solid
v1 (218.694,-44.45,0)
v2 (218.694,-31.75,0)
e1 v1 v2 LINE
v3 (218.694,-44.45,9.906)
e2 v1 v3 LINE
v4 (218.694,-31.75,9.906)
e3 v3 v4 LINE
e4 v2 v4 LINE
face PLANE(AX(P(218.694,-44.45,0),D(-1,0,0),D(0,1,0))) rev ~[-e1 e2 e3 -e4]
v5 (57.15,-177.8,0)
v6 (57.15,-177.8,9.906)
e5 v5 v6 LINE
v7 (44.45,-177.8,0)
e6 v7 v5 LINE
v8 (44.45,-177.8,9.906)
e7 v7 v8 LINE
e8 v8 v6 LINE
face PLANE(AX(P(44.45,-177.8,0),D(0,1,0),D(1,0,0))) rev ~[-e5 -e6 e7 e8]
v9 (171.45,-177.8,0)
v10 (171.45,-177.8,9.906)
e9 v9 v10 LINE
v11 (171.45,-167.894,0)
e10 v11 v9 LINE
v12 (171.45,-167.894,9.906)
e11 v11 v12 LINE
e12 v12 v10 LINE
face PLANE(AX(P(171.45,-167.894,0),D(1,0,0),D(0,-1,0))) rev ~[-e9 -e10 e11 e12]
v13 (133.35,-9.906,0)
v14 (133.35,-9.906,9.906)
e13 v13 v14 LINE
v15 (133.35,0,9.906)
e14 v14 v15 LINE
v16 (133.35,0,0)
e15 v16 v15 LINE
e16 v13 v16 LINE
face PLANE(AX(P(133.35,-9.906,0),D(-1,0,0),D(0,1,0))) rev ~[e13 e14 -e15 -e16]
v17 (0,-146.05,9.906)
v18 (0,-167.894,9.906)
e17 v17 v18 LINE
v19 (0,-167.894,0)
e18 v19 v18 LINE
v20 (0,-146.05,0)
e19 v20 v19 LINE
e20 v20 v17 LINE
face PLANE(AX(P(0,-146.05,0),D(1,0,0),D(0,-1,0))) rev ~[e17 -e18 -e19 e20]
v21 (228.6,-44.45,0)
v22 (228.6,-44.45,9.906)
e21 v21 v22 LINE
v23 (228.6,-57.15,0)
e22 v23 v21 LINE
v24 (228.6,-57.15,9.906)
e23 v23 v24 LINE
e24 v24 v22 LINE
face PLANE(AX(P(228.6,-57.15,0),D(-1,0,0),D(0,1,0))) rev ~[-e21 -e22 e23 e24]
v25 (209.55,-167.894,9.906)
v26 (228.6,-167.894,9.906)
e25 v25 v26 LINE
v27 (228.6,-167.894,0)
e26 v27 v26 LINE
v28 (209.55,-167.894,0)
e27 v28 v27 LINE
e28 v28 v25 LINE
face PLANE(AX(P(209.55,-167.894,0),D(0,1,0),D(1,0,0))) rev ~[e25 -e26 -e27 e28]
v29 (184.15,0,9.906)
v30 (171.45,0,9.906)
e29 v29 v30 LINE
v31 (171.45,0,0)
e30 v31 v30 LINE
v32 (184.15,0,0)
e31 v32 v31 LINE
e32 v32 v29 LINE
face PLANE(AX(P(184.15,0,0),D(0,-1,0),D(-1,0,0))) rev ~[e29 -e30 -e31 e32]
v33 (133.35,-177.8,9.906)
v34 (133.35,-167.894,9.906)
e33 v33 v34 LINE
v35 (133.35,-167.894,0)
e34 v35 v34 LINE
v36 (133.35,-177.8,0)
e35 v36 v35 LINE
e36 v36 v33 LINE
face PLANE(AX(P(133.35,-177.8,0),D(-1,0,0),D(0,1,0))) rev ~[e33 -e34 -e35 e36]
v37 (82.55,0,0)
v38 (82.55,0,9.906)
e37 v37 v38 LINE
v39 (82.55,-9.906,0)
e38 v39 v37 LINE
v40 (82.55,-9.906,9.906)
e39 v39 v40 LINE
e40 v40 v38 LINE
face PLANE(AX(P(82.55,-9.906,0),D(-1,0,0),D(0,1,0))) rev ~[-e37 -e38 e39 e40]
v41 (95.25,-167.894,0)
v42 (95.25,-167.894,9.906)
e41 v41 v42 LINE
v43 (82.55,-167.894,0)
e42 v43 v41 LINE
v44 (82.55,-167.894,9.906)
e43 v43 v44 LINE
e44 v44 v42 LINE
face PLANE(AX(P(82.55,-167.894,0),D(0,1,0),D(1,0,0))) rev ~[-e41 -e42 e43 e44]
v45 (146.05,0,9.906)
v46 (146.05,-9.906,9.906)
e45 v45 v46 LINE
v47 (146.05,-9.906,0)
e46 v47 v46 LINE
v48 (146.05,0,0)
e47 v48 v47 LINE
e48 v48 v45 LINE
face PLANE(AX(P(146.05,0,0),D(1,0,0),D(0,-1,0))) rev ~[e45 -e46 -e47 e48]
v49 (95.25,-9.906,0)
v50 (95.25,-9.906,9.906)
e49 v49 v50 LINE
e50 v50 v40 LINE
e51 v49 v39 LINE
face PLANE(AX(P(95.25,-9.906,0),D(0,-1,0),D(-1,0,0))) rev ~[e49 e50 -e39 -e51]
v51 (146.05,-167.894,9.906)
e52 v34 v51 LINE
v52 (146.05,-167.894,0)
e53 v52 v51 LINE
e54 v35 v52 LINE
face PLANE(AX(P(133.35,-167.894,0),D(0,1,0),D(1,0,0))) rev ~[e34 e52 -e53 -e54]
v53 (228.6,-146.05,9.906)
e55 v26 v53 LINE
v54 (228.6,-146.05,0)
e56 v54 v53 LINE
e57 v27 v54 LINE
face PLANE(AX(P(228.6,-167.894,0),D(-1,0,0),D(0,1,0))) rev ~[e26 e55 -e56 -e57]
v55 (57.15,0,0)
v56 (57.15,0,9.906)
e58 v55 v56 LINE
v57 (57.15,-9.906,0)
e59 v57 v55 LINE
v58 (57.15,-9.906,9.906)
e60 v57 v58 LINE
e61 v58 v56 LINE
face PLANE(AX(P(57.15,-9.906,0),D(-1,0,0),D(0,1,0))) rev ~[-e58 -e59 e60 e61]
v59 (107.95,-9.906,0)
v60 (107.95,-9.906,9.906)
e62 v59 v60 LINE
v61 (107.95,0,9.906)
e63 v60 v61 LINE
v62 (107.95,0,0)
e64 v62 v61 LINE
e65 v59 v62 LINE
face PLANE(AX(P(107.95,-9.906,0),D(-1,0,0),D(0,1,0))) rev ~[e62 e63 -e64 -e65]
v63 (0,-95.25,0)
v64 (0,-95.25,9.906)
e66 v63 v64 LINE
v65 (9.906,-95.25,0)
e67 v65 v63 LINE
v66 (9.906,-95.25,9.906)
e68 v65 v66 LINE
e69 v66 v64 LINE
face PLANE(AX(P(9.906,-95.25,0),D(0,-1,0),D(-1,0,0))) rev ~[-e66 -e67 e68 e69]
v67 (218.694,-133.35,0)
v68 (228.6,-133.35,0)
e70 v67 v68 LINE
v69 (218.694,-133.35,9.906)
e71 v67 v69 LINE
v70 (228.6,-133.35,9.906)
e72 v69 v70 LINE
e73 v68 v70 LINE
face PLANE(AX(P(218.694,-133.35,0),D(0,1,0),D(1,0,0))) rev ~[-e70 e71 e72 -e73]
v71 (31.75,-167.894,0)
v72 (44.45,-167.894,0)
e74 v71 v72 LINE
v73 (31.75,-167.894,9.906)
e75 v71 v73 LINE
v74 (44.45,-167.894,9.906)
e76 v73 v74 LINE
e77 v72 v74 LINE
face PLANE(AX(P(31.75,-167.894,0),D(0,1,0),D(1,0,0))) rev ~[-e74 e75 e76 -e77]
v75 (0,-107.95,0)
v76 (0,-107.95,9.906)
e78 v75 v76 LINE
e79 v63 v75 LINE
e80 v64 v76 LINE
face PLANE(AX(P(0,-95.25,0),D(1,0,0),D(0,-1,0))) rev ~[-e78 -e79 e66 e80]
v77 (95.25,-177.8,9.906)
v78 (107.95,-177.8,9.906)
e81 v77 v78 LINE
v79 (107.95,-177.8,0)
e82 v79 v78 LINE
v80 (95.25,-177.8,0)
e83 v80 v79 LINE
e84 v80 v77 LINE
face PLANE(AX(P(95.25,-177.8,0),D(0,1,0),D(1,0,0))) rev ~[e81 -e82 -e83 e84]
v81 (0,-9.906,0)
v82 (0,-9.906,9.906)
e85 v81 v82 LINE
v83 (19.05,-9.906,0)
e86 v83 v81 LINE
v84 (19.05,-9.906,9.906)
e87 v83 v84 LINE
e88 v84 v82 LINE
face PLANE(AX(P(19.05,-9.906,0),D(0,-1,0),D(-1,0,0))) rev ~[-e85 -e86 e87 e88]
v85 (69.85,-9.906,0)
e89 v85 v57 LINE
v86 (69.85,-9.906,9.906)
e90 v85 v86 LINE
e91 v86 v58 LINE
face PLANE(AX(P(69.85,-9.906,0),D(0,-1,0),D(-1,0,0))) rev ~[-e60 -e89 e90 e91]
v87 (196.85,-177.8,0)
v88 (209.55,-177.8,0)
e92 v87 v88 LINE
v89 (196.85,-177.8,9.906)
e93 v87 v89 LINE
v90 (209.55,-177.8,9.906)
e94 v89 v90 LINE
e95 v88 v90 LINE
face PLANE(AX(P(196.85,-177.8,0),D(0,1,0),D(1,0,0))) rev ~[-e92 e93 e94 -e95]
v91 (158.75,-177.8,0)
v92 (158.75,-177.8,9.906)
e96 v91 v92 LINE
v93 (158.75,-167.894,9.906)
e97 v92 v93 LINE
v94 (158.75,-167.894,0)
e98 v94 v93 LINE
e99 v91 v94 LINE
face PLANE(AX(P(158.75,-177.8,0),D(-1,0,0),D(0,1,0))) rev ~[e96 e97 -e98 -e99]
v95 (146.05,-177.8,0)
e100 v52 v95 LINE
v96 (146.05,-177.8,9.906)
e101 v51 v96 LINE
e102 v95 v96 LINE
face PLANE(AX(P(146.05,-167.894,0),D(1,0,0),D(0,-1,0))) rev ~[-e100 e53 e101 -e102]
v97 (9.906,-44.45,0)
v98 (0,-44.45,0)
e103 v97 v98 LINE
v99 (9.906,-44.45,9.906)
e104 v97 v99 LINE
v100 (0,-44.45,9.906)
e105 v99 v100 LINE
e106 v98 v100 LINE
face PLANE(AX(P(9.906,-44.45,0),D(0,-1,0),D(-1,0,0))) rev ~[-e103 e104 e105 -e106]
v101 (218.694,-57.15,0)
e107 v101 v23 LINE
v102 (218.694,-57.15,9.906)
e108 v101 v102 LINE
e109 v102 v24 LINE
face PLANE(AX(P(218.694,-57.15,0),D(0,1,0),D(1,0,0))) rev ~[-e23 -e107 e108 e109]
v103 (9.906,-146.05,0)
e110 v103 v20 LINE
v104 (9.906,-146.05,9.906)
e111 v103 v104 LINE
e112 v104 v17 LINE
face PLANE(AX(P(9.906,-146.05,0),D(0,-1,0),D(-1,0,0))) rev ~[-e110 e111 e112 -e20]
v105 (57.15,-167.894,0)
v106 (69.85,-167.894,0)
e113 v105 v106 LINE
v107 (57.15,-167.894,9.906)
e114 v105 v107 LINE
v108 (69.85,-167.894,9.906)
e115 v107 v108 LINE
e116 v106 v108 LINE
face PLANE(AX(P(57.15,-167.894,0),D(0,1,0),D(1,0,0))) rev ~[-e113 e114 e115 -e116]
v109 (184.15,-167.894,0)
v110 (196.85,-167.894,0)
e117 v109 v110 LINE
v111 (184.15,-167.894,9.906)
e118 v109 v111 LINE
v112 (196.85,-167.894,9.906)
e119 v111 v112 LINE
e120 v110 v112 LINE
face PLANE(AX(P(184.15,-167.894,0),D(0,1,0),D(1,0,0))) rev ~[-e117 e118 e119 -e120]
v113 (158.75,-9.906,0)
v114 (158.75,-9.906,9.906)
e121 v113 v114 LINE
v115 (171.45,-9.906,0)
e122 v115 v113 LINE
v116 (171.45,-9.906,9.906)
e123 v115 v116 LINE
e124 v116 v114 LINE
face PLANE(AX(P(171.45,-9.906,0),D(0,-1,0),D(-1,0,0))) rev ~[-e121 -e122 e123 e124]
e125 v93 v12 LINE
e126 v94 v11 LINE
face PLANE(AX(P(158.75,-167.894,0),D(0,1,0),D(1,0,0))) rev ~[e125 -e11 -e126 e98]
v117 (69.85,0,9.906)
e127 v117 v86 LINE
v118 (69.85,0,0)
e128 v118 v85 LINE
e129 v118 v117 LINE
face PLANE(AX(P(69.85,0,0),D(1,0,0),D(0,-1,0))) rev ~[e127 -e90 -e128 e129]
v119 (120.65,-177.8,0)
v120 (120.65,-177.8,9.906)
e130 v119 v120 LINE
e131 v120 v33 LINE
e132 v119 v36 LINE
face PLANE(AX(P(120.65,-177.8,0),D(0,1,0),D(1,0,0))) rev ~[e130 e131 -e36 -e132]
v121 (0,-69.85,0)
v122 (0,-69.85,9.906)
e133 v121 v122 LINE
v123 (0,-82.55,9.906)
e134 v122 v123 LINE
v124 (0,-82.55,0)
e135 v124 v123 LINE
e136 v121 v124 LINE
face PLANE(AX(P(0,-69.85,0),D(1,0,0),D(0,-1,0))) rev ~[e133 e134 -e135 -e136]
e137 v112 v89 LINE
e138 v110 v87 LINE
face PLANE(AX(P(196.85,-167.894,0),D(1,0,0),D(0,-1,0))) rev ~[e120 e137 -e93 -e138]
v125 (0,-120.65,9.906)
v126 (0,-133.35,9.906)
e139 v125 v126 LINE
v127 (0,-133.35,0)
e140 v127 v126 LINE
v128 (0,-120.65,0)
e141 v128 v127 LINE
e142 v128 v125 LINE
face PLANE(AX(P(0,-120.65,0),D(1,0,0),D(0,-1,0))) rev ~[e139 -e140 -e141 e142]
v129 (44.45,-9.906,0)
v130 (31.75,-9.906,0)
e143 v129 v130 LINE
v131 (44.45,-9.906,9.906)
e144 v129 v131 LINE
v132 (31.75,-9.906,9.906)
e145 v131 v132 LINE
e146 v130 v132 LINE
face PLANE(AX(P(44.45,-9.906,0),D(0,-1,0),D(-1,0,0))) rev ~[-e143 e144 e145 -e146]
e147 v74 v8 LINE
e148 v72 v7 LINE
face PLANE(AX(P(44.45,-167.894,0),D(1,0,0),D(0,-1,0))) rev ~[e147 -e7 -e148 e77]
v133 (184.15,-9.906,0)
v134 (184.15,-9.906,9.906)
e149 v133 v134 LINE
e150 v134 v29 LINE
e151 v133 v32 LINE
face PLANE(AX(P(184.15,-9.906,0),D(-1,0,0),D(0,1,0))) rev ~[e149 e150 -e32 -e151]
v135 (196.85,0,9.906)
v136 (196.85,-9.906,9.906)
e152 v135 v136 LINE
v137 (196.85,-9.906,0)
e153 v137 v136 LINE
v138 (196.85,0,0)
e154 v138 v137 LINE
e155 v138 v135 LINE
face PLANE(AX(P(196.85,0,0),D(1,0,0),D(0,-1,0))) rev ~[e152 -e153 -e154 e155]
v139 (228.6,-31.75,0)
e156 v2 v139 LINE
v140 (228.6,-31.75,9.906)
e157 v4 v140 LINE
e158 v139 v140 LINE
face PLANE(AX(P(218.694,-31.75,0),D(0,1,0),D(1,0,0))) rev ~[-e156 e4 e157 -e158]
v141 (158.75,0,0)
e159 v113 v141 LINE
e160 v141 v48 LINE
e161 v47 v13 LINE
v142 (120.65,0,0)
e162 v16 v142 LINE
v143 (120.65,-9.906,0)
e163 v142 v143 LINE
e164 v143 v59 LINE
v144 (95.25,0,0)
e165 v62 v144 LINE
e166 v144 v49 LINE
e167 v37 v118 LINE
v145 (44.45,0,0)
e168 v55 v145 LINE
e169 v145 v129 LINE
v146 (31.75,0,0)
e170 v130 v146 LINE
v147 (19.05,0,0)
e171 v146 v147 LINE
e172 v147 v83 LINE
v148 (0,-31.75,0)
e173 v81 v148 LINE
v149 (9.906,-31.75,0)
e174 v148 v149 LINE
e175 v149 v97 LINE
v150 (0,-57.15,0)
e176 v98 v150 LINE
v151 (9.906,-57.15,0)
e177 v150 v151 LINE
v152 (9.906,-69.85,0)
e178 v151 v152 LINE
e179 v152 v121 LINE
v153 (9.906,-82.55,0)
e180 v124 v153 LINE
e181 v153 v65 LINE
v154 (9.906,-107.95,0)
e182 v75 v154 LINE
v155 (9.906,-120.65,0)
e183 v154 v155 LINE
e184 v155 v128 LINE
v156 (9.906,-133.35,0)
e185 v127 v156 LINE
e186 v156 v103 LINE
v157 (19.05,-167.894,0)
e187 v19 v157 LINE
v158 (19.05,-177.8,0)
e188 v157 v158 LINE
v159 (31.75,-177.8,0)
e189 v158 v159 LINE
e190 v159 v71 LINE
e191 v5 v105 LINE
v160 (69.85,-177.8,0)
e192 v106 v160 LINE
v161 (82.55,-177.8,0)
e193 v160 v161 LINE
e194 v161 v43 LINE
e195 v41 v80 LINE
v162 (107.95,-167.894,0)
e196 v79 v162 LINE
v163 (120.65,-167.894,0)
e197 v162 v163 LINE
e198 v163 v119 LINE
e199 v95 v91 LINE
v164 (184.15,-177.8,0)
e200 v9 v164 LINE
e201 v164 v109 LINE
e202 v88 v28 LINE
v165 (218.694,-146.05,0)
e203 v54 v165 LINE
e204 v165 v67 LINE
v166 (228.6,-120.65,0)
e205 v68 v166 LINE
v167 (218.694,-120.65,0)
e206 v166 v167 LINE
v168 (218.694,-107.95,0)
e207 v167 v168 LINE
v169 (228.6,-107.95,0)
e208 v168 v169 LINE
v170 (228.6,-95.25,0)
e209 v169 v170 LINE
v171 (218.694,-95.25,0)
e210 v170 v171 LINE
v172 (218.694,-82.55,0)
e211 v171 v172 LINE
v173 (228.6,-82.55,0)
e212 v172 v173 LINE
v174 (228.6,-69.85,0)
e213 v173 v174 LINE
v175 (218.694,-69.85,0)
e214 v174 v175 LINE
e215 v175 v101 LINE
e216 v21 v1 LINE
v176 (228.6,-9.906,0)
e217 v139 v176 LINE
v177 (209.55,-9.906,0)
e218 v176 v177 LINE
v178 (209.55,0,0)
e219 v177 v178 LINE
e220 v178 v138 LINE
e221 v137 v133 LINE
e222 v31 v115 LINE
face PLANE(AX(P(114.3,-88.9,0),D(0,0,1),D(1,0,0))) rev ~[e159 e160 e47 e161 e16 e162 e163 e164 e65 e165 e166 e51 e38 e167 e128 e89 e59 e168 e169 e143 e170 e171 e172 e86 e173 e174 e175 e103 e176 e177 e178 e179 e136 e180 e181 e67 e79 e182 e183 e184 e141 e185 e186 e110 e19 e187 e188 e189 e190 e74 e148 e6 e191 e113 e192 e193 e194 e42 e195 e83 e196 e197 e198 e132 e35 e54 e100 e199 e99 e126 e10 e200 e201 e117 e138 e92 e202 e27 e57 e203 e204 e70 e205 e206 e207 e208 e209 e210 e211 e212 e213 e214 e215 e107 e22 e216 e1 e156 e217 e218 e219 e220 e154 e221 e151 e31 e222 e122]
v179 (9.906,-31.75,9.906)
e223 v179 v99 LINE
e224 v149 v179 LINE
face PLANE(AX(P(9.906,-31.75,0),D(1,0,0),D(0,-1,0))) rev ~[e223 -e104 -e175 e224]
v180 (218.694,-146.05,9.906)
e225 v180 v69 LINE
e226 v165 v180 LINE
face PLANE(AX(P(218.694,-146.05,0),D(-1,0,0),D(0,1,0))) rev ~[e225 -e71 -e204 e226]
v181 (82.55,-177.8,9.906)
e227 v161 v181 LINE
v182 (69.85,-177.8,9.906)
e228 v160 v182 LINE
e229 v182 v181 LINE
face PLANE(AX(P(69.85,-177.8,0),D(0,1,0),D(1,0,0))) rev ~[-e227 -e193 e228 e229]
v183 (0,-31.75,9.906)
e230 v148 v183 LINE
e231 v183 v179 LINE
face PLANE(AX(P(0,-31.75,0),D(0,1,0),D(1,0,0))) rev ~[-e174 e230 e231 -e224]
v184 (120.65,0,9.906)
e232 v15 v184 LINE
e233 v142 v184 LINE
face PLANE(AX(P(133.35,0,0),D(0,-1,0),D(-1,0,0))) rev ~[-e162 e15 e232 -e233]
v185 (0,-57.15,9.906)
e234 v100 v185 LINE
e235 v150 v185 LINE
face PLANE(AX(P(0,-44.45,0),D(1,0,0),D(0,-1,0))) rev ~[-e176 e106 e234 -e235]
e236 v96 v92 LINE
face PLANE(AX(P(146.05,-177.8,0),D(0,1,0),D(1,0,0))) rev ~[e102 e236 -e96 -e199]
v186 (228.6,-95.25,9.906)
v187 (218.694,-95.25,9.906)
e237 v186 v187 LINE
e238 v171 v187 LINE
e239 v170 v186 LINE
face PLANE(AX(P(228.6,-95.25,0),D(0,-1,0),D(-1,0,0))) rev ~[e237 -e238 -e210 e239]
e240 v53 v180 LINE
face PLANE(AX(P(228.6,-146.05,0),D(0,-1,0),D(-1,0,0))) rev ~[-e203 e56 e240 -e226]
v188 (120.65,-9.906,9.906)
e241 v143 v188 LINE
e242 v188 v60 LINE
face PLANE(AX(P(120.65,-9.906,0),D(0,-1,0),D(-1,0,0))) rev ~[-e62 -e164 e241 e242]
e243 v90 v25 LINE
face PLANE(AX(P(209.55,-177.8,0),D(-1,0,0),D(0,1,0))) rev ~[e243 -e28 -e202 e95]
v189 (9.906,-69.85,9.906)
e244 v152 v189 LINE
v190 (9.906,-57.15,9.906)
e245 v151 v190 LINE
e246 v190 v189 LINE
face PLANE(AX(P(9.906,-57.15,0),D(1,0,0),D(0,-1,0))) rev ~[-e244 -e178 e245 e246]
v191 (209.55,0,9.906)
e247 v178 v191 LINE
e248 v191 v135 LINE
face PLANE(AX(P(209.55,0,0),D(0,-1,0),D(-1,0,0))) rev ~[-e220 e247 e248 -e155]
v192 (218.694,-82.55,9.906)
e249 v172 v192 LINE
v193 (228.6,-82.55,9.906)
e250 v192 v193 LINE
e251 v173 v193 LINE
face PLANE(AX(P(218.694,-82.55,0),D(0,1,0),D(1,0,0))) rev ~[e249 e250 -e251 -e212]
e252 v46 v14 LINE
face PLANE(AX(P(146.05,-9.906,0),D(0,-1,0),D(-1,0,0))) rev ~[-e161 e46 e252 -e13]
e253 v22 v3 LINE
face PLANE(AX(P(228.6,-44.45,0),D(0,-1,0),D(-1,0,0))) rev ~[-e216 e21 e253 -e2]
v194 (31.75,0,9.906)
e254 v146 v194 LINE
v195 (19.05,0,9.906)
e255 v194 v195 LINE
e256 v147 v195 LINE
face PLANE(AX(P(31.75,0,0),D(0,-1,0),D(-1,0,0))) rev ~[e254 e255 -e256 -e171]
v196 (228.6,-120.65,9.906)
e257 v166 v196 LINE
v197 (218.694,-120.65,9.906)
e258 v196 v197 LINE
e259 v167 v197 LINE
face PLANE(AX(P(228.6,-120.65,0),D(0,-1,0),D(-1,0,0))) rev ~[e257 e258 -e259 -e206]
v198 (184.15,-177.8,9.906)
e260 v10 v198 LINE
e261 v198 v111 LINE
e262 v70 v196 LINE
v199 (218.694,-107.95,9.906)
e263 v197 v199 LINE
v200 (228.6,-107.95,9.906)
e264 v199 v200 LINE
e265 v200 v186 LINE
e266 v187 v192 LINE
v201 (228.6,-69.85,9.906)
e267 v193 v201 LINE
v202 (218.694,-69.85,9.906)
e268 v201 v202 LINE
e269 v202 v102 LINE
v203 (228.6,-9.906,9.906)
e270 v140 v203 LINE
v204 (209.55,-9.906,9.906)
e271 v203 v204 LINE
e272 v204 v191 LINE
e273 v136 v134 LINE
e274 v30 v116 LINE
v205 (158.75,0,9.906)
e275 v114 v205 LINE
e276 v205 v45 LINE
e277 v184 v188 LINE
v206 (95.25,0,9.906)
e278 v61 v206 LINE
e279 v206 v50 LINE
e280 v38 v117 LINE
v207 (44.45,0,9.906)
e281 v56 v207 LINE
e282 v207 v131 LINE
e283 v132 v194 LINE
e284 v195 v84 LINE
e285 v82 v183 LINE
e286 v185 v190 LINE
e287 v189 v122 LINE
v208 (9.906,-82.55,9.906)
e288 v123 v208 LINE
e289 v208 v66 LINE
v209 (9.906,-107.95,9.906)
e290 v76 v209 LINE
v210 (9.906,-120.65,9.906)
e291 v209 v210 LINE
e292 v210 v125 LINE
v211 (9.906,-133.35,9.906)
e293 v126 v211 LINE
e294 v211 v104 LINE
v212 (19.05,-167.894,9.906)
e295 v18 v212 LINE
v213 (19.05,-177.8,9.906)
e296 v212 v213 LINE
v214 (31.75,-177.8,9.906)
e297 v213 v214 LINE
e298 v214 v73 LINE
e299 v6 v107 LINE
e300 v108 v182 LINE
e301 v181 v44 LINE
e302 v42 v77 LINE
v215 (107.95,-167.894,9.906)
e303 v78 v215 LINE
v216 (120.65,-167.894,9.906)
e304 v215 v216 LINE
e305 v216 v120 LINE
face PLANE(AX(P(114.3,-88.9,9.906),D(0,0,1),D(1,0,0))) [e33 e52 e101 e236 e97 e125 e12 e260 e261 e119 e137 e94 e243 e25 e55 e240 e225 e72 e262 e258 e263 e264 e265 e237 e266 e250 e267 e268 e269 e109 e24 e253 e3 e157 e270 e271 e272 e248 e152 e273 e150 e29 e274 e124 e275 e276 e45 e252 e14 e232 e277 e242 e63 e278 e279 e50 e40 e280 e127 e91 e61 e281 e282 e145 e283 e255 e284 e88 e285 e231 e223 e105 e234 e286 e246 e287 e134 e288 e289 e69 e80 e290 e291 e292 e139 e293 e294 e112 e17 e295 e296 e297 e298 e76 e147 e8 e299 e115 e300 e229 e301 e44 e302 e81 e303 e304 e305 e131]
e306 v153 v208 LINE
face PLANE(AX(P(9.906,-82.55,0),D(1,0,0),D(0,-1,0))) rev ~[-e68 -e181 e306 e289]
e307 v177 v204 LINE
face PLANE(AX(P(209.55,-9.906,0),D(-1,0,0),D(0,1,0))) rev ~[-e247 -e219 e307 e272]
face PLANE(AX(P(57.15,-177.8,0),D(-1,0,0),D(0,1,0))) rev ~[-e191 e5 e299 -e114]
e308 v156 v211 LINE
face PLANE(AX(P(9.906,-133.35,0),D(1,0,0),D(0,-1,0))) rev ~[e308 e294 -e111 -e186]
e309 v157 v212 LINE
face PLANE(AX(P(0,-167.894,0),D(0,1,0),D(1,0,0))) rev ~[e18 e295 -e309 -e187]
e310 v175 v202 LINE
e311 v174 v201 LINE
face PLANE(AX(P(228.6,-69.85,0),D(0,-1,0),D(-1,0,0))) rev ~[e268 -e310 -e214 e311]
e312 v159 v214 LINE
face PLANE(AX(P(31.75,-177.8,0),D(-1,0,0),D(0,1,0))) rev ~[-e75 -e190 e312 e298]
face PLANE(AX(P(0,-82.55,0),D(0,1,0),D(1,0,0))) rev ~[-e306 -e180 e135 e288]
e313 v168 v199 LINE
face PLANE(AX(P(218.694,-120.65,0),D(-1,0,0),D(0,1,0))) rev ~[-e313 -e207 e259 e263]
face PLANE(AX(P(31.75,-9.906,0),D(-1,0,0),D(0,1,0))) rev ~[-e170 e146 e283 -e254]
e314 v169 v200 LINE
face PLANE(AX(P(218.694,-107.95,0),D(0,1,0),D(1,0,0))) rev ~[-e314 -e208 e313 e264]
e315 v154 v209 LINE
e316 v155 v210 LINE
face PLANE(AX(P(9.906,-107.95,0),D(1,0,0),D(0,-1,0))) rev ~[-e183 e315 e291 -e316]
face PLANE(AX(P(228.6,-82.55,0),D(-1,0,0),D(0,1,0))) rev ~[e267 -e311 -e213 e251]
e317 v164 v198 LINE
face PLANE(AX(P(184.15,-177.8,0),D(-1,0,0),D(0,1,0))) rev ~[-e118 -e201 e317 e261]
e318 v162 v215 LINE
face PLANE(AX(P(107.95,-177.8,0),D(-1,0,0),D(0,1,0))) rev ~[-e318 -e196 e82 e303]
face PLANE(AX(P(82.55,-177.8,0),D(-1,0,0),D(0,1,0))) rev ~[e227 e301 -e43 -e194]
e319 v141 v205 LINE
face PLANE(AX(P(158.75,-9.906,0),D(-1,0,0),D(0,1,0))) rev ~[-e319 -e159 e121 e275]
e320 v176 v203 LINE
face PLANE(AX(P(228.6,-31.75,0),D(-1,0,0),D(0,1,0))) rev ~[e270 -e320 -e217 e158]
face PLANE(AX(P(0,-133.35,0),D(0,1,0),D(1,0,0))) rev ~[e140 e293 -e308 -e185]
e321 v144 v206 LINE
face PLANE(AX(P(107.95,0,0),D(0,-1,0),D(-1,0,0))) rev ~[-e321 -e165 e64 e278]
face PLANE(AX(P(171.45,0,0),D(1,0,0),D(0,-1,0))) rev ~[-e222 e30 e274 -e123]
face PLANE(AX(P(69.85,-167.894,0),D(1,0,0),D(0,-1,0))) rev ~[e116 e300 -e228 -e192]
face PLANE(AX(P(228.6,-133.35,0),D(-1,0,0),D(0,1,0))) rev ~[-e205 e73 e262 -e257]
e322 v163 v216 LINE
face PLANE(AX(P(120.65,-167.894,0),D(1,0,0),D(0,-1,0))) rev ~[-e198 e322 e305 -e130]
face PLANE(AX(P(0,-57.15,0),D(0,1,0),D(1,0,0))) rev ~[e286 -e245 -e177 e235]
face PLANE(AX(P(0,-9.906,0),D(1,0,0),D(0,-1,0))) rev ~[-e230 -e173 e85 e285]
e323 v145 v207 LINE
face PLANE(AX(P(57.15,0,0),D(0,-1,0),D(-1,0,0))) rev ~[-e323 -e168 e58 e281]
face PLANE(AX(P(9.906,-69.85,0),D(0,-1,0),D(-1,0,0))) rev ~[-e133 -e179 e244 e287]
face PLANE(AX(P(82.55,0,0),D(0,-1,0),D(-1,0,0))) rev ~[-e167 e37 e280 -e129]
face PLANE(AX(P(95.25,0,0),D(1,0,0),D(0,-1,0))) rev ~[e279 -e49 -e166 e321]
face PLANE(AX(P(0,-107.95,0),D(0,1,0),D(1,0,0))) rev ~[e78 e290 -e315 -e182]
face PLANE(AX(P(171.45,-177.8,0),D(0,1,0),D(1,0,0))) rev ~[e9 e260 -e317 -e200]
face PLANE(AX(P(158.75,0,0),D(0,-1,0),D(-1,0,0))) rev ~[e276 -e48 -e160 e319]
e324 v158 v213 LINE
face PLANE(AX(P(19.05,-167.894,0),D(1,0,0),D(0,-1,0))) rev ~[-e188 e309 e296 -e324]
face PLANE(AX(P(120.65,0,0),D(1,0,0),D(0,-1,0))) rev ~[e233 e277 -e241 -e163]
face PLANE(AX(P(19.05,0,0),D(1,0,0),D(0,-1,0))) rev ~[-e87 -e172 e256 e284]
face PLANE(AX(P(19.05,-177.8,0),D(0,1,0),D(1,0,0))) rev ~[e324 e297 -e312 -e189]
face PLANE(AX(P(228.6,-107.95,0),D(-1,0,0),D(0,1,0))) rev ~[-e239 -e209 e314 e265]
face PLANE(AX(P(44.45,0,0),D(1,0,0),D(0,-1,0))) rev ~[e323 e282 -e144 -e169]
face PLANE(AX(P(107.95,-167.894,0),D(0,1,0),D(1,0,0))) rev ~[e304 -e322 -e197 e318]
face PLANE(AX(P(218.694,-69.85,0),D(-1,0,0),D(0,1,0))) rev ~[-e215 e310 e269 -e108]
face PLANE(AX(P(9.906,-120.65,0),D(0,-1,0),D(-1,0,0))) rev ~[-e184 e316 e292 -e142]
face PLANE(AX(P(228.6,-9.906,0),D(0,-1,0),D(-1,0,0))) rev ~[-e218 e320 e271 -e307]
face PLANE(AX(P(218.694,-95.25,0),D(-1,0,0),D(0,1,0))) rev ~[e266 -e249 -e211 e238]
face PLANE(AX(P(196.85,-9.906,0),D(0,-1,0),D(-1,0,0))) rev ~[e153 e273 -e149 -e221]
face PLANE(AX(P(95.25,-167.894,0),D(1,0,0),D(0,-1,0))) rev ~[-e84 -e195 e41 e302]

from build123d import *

# Parameters (mm, degrees)
F1_DEPTH = 9.906


with BuildPart() as f1:
    # F0 (on Top) → F1 (new body)
    with BuildSketch(Plane.XY):
        Polygon((19.05, 0), (19.05, -9.906), (0, -9.906), (0, -31.75), (9.906, -31.75), (9.906, -44.45), (0, -44.45), (0, -57.15), (9.906, -57.15), (9.906, -69.85), (0, -69.85), (0, -82.55), (9.906, -82.55), (9.906, -95.25), (0, -95.25), (0, -107.95), (9.906, -107.95), (9.906, -120.65), (0, -120.65), (0, -133.35), (9.906, -133.35), (9.906, -146.05), (0, -146.05), (0, -167.894), (19.05, -167.894), (19.05, -177.8), (31.75, -177.8), (31.75, -167.894), (44.45, -167.894), (44.45, -177.8), (57.15, -177.8), (57.15, -167.894), (69.85, -167.894), (69.85, -177.8), (82.55, -177.8), (82.55, -167.894), (95.25, -167.894), (95.25, -177.8), (107.95, -177.8), (107.95, -167.894), (120.65, -167.894), (120.65, -177.8), (133.35, -177.8), (133.35, -167.894), (146.05, -167.894), (146.05, -177.8), (158.75, -177.8), (158.75, -167.894), (171.45, -167.894), (171.45, -177.8), (184.15, -177.8), (184.15, -167.894), (196.85, -167.894), (196.85, -177.8), (209.55, -177.8), (209.55, -167.894), (228.6, -167.894), (228.6, -146.05), (218.694, -146.05), (218.694, -133.35), (228.6, -133.35), (228.6, -120.65), (218.694, -120.65), (218.694, -107.95), (228.6, -107.95), (228.6, -95.25), (218.694, -95.25), (218.694, -82.55), (228.6, -82.55), (228.6, -69.85), (218.694, -69.85), (218.694, -57.15), (228.6, -57.15), (228.6, -44.45), (218.694, -44.45), (218.694, -31.75), (228.6, -31.75), (228.6, -9.906), (209.55, -9.906), (209.55, 0), (196.85, 0), (196.85, -9.906), (184.15, -9.906), (184.15, 0), (171.45, 0), (171.45, -9.906), (158.75, -9.906), (158.75, 0), (146.05, 0), (146.05, -9.906), (133.35, -9.906), (133.35, 0), (120.65, 0), (120.65, -9.906), (107.95, -9.906), (107.95, 0), (95.25, 0), (95.25, -9.906), (82.55, -9.906), (82.55, 0), (69.85, 0), (69.85, -9.906), (57.15, -9.906), (57.15, 0), (44.45, 0), (44.45, -9.906), (31.75, -9.906), (31.75, 0), align=None)
    extrude(amount=F1_DEPTH)


solid = f1.part
